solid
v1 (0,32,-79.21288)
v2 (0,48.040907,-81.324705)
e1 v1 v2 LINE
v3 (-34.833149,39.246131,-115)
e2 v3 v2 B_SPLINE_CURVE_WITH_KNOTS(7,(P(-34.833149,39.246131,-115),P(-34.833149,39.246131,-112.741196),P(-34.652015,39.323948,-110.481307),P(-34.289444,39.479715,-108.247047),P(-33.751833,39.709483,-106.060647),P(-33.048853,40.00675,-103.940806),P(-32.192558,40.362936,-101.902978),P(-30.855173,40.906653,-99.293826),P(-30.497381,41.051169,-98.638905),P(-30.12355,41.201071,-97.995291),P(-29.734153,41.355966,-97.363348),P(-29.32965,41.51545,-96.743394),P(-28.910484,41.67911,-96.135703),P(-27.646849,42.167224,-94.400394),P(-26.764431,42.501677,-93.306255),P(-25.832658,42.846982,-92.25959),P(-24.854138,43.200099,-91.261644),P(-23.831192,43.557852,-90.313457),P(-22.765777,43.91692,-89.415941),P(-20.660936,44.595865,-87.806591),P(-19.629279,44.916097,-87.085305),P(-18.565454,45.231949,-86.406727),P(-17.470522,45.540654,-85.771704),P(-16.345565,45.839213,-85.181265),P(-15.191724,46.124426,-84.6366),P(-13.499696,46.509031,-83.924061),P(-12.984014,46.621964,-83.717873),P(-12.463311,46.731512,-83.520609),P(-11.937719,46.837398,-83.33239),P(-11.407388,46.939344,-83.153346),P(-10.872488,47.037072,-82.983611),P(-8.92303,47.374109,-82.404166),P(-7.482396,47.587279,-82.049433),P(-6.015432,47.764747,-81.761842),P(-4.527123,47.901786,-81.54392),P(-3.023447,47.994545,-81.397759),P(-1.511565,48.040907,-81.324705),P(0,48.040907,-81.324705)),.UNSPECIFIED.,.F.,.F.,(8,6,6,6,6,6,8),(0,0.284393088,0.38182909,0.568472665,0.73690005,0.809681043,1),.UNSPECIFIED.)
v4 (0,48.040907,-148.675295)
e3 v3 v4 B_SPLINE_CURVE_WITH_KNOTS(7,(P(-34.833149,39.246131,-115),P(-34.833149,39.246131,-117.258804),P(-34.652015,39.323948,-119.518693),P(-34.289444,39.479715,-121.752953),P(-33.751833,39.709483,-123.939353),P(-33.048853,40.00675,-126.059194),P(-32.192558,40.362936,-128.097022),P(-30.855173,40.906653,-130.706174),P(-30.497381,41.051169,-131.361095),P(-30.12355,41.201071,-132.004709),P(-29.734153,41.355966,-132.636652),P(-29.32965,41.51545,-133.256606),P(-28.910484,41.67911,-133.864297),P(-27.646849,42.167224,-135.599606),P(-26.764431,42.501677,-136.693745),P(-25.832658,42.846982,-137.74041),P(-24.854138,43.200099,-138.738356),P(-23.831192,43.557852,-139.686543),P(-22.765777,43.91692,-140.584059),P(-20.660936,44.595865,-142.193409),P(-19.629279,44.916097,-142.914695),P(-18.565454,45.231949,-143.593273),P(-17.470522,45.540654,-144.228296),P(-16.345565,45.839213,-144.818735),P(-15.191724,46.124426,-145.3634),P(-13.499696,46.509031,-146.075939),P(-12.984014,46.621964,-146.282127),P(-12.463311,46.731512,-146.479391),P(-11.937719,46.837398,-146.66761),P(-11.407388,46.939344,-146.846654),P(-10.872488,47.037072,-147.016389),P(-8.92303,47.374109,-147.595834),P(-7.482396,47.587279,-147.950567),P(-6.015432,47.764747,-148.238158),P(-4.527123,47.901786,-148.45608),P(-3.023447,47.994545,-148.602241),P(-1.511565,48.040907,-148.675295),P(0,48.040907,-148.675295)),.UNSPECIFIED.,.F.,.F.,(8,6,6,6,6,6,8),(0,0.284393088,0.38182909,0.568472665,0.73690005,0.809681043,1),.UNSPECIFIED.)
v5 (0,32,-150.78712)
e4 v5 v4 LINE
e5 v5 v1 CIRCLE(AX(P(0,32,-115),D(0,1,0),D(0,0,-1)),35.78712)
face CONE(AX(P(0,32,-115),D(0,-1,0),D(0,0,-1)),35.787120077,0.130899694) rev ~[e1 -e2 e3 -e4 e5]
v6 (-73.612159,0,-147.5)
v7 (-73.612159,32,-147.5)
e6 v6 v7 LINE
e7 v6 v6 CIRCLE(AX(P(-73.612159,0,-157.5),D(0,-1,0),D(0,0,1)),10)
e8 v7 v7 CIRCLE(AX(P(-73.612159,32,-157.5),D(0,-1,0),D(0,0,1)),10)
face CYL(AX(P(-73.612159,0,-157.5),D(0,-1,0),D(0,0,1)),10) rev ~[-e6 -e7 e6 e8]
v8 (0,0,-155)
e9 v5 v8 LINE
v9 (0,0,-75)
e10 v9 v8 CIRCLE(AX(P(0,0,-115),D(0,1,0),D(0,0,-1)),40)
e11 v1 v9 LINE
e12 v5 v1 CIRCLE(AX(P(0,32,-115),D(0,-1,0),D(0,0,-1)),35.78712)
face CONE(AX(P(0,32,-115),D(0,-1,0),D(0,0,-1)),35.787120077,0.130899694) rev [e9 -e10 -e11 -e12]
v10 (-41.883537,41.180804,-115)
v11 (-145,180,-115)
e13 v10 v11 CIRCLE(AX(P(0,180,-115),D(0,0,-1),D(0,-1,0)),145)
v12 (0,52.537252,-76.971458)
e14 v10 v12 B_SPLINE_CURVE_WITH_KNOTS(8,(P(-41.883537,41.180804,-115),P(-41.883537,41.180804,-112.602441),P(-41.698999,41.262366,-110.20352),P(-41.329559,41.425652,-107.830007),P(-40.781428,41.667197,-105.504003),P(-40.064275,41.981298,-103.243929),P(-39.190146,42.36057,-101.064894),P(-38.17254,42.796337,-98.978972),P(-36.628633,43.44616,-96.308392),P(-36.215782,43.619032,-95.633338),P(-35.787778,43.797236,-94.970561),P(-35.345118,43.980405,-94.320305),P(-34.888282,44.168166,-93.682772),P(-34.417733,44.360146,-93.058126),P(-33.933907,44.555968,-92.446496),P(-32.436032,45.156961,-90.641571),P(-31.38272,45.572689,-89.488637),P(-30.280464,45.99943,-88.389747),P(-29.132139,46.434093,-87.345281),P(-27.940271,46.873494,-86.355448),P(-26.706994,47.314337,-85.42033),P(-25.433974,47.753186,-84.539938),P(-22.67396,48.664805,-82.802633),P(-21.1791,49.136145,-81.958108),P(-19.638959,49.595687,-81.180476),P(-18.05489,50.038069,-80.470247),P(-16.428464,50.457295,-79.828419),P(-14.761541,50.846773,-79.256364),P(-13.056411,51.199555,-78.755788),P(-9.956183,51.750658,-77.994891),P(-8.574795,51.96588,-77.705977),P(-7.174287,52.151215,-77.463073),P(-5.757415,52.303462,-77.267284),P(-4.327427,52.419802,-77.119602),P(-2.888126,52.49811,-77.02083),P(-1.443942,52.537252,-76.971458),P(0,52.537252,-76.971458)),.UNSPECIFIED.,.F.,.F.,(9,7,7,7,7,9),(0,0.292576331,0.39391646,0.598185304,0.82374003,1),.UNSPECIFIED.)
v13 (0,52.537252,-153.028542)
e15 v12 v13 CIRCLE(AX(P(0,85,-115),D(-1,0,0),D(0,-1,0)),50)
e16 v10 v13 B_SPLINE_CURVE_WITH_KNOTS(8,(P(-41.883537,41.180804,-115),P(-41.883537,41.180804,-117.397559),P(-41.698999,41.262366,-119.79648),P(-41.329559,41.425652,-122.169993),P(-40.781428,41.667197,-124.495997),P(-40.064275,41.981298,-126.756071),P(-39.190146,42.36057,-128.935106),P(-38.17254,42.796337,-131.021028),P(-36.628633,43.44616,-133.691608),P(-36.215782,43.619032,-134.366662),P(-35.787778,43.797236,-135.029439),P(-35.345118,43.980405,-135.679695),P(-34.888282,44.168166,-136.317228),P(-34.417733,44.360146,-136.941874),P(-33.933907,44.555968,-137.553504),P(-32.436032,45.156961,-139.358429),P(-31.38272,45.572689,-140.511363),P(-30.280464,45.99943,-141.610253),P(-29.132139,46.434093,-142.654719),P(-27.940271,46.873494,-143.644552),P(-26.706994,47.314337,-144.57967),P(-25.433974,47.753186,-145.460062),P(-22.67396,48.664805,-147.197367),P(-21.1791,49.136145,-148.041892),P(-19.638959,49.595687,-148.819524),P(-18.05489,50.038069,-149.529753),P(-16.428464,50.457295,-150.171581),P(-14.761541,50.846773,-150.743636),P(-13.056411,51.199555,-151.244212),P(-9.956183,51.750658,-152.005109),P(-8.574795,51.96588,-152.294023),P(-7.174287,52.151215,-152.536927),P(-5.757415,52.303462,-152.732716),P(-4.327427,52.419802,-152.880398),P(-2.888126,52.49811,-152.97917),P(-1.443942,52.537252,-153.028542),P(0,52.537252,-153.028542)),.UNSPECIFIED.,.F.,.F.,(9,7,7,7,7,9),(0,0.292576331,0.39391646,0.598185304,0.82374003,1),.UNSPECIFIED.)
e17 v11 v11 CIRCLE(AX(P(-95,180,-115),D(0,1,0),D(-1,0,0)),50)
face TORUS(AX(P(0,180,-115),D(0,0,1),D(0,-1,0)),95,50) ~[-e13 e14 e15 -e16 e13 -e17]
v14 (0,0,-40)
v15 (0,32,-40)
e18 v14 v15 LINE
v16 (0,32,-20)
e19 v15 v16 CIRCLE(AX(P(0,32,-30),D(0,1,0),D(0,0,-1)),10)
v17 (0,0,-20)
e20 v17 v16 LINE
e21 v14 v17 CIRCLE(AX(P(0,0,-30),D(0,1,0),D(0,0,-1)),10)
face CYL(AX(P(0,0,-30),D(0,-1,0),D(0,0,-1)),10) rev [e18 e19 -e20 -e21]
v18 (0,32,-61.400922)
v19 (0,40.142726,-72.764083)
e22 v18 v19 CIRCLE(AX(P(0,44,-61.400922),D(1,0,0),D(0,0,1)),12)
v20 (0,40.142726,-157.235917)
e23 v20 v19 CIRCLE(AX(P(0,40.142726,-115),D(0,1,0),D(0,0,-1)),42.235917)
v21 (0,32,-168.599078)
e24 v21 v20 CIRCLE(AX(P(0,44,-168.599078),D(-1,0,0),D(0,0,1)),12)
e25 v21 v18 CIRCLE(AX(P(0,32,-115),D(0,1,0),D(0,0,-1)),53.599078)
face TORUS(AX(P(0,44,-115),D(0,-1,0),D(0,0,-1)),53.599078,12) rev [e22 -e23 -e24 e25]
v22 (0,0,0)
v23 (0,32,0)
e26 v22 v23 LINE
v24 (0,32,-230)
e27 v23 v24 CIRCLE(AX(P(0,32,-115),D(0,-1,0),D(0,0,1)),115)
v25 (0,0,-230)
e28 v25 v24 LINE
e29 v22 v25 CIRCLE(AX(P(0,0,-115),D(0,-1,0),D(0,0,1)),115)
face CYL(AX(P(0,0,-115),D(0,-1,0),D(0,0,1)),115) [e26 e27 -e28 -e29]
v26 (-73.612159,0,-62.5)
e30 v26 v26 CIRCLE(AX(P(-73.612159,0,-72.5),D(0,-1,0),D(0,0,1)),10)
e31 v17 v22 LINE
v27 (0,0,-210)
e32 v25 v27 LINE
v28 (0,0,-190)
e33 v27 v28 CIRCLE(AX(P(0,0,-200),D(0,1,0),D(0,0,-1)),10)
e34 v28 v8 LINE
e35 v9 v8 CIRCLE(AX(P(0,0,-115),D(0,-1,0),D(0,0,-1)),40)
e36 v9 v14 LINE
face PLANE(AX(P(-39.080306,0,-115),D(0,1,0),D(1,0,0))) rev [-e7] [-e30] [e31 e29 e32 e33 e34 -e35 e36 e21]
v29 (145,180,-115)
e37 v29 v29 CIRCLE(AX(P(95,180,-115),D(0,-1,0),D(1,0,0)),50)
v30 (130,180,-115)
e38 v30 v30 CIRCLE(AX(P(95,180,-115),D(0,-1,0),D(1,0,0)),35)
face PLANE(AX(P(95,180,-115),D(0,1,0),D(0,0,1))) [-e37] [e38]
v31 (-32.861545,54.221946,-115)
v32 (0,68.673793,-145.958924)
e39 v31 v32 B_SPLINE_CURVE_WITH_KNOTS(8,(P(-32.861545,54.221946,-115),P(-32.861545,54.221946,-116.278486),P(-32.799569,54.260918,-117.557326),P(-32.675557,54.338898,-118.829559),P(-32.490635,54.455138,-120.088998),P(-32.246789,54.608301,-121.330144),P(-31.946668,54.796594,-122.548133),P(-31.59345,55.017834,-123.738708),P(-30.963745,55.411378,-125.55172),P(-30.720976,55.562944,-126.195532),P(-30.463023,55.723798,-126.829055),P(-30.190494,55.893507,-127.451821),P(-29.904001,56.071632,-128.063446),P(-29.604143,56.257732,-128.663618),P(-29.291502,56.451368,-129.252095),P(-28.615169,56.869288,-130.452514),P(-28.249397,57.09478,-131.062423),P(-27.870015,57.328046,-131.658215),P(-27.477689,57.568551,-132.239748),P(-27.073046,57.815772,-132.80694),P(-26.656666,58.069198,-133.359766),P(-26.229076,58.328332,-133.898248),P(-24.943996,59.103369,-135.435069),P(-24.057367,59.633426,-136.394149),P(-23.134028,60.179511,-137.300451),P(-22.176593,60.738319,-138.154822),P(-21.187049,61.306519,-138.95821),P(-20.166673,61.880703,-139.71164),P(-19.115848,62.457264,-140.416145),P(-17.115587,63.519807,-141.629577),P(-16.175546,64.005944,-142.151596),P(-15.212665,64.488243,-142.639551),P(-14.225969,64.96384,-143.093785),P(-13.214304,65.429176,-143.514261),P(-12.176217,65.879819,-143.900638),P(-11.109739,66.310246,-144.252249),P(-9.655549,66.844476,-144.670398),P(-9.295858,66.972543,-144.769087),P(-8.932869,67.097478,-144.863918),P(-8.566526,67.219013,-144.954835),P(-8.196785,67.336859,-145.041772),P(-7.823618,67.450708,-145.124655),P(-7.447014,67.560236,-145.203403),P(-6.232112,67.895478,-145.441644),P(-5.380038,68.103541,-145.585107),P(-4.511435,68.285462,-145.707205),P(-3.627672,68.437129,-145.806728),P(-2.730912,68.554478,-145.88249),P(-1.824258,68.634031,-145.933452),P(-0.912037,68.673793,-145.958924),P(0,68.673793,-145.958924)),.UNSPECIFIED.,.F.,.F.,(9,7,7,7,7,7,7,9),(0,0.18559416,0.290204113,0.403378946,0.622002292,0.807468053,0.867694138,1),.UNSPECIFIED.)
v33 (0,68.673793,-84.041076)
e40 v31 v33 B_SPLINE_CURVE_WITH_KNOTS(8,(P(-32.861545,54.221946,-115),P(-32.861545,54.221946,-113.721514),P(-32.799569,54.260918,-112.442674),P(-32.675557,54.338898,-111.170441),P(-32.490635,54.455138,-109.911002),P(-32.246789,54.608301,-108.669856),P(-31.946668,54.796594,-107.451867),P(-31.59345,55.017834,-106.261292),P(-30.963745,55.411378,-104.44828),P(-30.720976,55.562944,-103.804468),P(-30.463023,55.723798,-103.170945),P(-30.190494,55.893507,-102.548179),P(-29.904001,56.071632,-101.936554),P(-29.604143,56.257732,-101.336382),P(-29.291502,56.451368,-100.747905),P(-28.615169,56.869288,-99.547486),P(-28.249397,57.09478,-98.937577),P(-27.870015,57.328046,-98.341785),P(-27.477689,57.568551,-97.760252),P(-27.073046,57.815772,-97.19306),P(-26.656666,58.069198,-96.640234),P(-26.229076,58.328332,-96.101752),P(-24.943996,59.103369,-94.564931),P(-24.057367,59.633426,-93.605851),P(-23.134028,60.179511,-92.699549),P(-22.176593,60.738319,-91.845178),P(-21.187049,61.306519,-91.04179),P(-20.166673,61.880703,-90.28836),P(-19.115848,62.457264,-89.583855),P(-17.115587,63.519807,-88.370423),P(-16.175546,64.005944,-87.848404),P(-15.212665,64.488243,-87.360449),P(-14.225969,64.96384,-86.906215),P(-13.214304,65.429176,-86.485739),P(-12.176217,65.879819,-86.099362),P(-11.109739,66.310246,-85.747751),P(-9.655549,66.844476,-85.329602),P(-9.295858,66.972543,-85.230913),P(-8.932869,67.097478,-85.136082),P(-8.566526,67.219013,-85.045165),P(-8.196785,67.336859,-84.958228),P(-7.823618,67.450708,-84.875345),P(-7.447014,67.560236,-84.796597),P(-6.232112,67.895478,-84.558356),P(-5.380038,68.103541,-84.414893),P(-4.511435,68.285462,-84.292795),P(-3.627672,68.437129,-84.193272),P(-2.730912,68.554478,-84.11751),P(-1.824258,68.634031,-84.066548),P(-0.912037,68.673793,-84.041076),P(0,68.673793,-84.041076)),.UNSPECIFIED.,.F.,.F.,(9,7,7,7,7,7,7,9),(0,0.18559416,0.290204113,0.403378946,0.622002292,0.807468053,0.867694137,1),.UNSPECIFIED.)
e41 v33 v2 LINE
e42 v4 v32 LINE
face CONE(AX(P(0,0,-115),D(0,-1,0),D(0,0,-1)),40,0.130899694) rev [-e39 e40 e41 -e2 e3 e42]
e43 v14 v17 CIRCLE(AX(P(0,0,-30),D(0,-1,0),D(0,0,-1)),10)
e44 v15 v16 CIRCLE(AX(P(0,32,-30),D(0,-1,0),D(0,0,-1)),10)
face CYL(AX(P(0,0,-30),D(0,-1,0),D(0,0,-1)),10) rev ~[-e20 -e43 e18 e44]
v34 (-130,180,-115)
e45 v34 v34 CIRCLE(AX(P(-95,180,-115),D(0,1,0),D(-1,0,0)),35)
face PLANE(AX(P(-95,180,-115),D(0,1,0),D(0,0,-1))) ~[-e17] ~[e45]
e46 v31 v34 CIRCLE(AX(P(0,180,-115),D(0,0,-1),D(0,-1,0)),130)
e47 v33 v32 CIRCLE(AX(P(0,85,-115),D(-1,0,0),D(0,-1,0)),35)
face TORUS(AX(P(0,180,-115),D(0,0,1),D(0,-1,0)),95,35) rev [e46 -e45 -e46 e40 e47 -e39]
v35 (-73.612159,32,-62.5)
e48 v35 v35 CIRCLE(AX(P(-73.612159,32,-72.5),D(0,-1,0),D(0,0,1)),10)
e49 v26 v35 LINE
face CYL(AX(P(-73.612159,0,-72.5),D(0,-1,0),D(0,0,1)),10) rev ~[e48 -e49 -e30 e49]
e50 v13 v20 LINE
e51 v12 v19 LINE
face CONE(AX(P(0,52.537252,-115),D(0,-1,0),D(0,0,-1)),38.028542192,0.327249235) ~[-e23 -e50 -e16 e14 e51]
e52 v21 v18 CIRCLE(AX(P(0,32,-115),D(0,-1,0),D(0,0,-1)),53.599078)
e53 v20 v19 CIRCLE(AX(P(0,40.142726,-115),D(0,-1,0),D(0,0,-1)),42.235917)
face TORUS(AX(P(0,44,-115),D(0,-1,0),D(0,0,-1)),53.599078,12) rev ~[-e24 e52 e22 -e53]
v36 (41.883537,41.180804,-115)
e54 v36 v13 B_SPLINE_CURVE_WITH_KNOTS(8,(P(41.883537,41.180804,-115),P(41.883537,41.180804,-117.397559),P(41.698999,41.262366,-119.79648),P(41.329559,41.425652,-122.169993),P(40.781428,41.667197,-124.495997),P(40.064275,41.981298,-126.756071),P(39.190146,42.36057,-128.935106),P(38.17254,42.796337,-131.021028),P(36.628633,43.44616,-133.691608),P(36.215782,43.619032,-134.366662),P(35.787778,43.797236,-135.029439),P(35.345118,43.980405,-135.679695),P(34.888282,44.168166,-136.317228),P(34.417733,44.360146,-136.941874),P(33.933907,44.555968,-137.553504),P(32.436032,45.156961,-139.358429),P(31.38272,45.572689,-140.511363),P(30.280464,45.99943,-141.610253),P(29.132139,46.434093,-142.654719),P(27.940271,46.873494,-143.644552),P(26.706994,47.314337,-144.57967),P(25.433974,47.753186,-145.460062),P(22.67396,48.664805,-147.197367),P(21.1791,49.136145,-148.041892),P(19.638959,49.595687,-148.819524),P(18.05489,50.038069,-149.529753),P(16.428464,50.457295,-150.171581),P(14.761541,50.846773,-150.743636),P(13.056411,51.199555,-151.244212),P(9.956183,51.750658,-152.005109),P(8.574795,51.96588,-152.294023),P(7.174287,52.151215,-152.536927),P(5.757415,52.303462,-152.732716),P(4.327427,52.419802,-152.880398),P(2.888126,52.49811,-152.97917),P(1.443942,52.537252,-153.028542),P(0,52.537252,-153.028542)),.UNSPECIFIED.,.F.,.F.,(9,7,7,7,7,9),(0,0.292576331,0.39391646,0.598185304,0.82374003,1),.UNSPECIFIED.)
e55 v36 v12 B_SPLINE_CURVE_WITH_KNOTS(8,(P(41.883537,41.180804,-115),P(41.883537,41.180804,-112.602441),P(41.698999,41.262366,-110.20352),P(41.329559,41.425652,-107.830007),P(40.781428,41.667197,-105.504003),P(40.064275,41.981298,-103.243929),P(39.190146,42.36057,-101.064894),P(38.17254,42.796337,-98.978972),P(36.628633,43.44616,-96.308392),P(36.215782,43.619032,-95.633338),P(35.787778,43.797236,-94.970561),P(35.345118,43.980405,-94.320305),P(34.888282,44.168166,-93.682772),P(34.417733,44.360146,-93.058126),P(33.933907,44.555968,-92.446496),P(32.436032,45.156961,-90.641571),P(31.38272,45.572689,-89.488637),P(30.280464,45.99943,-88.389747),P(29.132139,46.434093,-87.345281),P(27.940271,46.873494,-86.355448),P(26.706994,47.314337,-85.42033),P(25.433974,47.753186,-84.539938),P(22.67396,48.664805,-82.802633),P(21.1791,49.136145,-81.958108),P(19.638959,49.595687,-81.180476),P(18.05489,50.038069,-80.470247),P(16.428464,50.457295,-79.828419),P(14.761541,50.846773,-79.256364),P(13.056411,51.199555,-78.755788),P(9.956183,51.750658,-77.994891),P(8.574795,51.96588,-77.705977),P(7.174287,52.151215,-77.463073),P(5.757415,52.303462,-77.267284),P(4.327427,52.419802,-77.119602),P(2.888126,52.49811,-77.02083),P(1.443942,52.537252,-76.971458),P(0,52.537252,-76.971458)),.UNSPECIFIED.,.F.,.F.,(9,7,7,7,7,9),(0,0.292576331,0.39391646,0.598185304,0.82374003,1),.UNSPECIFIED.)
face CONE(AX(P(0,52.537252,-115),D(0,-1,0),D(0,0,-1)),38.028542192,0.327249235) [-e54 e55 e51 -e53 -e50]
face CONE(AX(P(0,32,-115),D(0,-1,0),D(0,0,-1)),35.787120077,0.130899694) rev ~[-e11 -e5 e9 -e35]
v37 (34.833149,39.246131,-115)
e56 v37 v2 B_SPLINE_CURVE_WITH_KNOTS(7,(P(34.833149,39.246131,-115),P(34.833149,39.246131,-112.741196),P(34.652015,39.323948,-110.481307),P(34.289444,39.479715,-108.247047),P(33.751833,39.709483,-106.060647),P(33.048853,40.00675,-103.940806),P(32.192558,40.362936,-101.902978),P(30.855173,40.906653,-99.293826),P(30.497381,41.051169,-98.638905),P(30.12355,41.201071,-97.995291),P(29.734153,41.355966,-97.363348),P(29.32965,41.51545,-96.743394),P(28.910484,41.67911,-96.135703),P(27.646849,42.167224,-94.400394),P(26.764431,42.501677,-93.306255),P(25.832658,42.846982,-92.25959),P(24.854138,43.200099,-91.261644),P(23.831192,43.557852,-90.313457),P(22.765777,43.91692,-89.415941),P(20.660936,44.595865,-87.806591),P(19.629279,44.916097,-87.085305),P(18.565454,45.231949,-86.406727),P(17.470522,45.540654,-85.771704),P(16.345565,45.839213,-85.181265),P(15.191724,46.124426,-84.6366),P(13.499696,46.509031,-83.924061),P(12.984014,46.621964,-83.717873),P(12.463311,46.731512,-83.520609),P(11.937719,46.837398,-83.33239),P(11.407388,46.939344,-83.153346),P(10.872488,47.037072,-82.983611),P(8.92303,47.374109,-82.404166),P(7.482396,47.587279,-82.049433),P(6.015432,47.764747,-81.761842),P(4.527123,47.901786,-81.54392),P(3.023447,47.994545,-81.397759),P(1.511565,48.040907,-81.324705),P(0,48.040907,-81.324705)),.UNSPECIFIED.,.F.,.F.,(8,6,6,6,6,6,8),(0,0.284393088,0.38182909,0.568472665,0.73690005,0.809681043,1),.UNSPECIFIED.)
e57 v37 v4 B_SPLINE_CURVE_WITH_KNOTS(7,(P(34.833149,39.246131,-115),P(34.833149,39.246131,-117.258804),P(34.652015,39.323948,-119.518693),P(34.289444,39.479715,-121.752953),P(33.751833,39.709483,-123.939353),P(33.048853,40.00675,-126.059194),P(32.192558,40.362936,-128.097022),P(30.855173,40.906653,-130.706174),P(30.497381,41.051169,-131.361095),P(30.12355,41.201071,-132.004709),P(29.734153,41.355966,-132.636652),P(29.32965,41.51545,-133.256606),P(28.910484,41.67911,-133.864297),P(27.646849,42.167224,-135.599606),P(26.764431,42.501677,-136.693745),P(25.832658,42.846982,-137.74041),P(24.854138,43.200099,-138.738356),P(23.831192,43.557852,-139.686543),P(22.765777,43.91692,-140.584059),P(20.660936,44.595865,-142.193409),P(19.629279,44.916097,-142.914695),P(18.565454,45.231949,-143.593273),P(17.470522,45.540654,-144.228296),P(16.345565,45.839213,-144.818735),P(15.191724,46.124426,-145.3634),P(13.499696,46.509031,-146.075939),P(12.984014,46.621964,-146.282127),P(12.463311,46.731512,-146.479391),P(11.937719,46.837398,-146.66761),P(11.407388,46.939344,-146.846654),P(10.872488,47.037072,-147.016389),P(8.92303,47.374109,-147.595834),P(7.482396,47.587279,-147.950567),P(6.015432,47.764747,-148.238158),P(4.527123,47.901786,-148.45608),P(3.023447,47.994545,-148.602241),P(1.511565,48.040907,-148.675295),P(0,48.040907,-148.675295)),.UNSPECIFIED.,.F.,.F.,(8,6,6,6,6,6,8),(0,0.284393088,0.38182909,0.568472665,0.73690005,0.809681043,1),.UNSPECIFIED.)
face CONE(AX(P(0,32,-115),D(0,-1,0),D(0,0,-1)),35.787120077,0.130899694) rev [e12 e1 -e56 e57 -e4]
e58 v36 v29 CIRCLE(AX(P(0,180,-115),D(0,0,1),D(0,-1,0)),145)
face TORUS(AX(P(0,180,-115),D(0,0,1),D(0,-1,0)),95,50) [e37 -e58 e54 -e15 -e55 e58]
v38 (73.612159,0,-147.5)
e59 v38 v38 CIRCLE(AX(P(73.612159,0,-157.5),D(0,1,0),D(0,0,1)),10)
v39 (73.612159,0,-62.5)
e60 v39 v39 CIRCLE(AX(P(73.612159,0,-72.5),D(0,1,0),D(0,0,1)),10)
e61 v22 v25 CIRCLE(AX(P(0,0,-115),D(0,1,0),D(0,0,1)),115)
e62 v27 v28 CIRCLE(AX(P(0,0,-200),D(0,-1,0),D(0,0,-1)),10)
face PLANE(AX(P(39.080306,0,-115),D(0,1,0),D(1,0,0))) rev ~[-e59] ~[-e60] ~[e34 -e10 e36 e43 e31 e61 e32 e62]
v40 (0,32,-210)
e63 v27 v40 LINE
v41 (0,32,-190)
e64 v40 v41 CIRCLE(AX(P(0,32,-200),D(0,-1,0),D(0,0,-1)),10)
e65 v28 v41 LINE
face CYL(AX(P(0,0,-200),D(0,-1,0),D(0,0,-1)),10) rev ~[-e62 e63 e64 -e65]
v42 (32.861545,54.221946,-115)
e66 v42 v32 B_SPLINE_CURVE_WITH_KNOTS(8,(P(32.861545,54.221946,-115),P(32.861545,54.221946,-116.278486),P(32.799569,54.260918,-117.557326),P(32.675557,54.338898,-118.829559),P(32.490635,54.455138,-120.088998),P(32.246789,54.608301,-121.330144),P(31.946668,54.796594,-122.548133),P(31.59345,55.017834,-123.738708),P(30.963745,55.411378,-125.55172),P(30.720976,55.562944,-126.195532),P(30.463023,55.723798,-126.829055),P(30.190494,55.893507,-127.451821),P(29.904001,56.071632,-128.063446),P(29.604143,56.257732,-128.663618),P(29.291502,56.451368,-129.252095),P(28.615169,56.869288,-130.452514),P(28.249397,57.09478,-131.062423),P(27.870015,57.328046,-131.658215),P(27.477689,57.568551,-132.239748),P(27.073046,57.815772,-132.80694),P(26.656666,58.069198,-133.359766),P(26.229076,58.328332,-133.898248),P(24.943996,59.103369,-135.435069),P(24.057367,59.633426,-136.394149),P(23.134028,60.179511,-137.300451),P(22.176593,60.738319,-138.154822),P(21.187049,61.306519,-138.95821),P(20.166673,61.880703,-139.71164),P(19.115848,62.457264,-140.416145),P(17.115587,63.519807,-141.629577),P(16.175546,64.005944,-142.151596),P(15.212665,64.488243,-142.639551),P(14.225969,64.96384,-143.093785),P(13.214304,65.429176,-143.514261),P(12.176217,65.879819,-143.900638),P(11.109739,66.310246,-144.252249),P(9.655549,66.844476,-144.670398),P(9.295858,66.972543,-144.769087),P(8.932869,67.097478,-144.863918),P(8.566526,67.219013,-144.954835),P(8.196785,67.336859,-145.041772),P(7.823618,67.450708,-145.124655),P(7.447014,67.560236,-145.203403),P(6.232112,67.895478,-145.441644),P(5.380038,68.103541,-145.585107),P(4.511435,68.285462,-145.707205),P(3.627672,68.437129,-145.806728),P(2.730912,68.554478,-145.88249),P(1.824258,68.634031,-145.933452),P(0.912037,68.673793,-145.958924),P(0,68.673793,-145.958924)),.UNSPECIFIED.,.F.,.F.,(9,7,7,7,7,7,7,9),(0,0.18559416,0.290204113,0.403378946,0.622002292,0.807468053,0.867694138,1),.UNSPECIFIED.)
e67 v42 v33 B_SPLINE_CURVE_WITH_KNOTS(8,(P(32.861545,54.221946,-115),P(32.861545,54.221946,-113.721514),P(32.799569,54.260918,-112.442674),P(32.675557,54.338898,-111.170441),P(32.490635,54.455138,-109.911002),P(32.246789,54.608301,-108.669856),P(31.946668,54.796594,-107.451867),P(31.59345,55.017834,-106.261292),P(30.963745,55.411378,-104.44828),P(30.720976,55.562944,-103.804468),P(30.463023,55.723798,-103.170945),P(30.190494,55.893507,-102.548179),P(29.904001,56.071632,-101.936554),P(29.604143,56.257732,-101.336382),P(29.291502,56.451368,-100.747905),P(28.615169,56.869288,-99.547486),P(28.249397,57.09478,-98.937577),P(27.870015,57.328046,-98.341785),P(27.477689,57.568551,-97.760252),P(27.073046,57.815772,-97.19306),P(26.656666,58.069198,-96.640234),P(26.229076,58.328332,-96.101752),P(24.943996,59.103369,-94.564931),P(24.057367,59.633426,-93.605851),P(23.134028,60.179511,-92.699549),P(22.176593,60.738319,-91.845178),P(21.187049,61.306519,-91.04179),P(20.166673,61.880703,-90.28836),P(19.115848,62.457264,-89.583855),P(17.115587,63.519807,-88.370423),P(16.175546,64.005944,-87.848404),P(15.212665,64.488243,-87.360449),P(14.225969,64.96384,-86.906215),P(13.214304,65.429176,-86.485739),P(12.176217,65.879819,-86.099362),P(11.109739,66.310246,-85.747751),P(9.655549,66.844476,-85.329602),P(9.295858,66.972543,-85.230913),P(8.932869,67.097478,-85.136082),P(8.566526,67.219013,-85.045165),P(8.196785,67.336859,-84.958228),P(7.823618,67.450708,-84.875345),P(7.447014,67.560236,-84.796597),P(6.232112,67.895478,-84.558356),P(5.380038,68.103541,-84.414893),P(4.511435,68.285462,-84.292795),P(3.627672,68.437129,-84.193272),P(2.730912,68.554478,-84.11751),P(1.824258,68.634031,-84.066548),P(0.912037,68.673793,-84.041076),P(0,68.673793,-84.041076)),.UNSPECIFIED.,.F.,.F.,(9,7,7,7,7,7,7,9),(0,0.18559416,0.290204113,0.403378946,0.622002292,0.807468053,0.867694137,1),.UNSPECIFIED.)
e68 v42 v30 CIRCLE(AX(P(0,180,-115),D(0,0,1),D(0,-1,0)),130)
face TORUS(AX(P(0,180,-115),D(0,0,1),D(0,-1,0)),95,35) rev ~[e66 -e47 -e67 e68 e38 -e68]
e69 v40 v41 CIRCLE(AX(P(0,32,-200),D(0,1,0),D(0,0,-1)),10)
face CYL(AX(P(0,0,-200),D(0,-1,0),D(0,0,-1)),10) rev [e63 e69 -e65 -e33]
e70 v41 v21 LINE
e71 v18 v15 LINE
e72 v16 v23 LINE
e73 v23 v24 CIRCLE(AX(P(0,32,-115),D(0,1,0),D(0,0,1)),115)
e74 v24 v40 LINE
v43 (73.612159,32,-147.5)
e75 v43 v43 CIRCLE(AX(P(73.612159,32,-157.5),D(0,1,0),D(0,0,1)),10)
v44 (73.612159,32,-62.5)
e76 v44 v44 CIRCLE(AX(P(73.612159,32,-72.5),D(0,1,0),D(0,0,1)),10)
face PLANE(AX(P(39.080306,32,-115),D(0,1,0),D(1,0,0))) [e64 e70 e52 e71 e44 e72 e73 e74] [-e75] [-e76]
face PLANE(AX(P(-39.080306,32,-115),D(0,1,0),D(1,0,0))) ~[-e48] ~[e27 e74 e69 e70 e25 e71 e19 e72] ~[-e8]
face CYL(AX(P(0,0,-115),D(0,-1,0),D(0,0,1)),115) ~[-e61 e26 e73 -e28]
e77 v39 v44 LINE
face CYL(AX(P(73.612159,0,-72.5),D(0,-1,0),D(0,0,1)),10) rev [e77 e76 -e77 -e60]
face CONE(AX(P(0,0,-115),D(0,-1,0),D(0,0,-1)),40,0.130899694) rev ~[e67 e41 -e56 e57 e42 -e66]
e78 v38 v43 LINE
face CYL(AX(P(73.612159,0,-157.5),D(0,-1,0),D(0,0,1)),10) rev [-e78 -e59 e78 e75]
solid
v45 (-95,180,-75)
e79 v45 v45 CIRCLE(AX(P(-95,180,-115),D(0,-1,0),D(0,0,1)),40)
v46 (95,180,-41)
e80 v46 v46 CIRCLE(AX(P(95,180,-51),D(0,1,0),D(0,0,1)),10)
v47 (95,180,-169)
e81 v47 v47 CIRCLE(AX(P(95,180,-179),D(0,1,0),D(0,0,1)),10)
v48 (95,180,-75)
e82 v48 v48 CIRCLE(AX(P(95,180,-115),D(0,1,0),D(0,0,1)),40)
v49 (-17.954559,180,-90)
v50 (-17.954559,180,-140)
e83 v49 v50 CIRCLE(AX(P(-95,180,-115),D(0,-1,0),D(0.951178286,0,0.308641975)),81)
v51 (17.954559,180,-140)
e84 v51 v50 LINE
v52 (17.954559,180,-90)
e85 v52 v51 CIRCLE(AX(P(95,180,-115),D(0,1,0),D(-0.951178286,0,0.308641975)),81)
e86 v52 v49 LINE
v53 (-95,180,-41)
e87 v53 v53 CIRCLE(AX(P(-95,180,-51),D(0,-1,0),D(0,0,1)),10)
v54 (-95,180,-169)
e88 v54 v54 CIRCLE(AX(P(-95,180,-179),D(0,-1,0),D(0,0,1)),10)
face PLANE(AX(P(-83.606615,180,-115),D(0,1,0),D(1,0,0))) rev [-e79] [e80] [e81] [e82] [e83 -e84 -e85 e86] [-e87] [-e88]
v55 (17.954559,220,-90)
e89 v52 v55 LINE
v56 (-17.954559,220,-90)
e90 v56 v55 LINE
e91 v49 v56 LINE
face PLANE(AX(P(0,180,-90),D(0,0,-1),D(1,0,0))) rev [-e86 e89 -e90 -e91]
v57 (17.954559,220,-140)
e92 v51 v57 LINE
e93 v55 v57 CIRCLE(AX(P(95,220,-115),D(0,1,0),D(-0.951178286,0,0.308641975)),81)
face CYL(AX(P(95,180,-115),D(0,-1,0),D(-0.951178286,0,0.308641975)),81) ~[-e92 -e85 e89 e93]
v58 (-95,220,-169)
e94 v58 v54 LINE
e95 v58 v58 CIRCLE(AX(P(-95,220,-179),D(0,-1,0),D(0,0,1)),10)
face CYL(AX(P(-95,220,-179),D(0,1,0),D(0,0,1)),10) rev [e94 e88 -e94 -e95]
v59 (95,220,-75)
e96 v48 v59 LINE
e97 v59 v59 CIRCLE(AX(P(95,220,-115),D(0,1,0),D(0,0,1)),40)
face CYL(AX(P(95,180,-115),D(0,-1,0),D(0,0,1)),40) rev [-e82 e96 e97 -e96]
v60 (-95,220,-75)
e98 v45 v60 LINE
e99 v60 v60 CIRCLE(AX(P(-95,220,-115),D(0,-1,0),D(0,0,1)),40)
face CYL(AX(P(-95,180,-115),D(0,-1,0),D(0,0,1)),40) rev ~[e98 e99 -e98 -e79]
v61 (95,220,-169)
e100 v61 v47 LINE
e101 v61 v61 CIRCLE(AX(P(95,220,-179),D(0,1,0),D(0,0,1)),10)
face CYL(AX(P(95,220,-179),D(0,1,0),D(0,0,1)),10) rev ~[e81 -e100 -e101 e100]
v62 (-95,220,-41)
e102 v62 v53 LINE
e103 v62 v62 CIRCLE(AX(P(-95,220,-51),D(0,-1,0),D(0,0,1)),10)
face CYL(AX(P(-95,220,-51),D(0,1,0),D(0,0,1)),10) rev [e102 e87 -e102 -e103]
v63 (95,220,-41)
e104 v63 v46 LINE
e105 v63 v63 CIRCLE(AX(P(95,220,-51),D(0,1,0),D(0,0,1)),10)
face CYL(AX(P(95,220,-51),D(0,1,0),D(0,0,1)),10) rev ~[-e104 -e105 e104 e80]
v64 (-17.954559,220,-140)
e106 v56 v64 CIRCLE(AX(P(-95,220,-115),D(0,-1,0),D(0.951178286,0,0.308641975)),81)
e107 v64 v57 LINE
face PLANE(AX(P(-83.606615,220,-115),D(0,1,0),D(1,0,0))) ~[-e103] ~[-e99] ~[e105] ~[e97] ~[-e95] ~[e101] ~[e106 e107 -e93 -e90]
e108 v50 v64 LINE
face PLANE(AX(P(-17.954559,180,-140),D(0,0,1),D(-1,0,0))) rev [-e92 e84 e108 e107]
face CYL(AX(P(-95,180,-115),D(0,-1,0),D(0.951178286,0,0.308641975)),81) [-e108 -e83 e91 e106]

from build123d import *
from build123d.topology import SkipClean

# Parameters (mm, degrees)
SKETCH1_R           = 9.999999999999991
SKETCH1_R_2         = 10.000000000000009
BOSS_EXTRUDE1_DEPTH = 32
REVOLVE1_ANGLE      = 180.0000000000004
FILLET1_R           = 12
SKETCH4_R           = 50.000000000000014
SKETCH4_R_2         = 35.00000000000001
SKETCH7_R           = 40.00000000000001
BOSS_EXTRUDE2_DEPTH = 40
SKETCH9_R           = 9.999999999999996
SKETCH9_R_2         = 9.999999999999995
CUT_EXTRUDE1_DEPTH  = 40


with BuildPart() as part:
    # Sketch1 → Boss-Extrude1 (new body)
    with BuildSketch(Plane(origin=(0, 0, 0), x_dir=(1, 0, 0), z_dir=(0, 1, 0))):
        with BuildLine():
            Line((0, 20), (0, 0))
            ThreePointArc((4.961e-14, -1.421e-14), (115.00000000000001, 115.00000000000001), (0, 230))
            Line((0, 229.99999999999997), (0, 209.99999999999997))
            ThreePointArc((3.4e-16, 209.99999999999997), (10.000000000000608, 199.99999999999994), (0, 189.99999999999991))
            Line((0, 189.99999999999991), (0, 40))
            ThreePointArc((3.4e-16, 40), (10.000000000000004, 30), (0, 20))
        make_face()
        with Locations(Location((73.61215932167678, 72.49999999999912, 0), (0, 0, 270))):
            Circle(SKETCH1_R, mode=Mode.SUBTRACT)
        with Locations(Location((73.61215932167762, 157.49999999999926, 0), (0, 0, 270))):
            Circle(SKETCH1_R_2, mode=Mode.SUBTRACT)
    extrude(amount=BOSS_EXTRUDE1_DEPTH)

    # Sketch2 → Revolve1 (revolve)
    with BuildSketch(Plane.ZY):
        with BuildLine():
            Line((-159.99999999999997, 32), (-150.7871200772035, 32))
            Line((-150.78712007720353, 32), (-148.67529457169178, 48.040907268849466))
            ThreePointArc((-148.67529457169178, 48.040907268849466), (-150.92233750248081, 50.22090184668588), (-153.02854219188197, 52.53725244591505))
            Line((-153.028542191882, 52.537252445915016), (-159.99999999999997, 32))
        make_face()
    revolve(axis=Axis((0, 0, -114.99999999999996), (0, -1, 0)), revolution_arc=REVOLVE1_ANGLE)

    # Fillet1
    fillet1_edges = [part.edges().sort_by_distance(p)[0] for p in [
        (45.000000000000014, 32, -114.9999999999998),
    ]]
    fillet(fillet1_edges, radius=FILLET1_R)

    # Sketch2<6> → Cut-Revolve1 (revolve, cut)
    with BuildSketch(Plane.ZY):
        Polygon((-114.99999999999996, 0), (-114.99999999999996, 32), (-150.7871200772035, 32), (-154.99999999999997, 0), align=None)
    revolve(axis=Axis((0, 0, -114.99999999999996), (0, 1, 0)), mode=Mode.SUBTRACT)

    # Sweep1: sweep along a path in Sketch3
    with BuildLine(Plane.XY.offset(-114.99999999999996)) as sweep1_path:
        ThreePointArc((0, 84.99999999999999), (67.17514421272203, 112.82485578727798), (95, 180))
    # Sketch4 → Sweep1 (sweep)
    with BuildSketch(Plane(origin=(0, 180, 0), x_dir=(1, 0, 0), z_dir=(0, 1, 0))):
        with Locations((95, 114.99999999999996)):
            Circle(SKETCH4_R)
        with Locations((95, 114.99999999999996)):
            Circle(SKETCH4_R_2, mode=Mode.SUBTRACT)
    sweep(path=sweep1_path.line)

    # Sketch6 → Cut-Revolve2 (revolve, cut)
    with BuildSketch(Plane(origin=(0, 0, 0), x_dir=(0, 0, -1), z_dir=(1, 0, 0))):
        with BuildLine():
            Line((114.99999999999996, 0), (154.99999999999997, 0))
            Line((154.99999999999997, 0), (145.9589236730641, 68.67379269378867))
            ThreePointArc((145.9589236730641, 68.67379269378867), (133.07737182616157, 55.02987107370576), (114.99999999999996, 50))
            Line((114.99999999999996, 50), (114.99999999999996, 0))
        make_face()
    revolve(axis=Axis((0, 0, -114.99999999999996), (0, 1, 0)), mode=Mode.SUBTRACT)

    # Mirror1 2: part across plane


with BuildPart() as body_2:
    # Sketch7 → Boss-Extrude2 (new body)
    with BuildSketch(Plane(origin=(0, 180, 0), x_dir=(1, 0, 0), z_dir=(0, 1, 0))):
        with BuildLine():
            Line((17.954558862967108, 139.99999999999997), (8.2e-16, 139.99999999999997))
            Line((8.2e-16, 139.99999999999997), (6.94e-15, 89.99999999999996))
            Line((6.94e-15, 89.99999999999996), (17.954558862967115, 89.99999999999994))
            ThreePointArc((17.954558862967115, 89.99999999999994), (176, 114.99999999999996), (17.954558862967108, 139.99999999999997))
        make_face()
        with Locations(Location((95, 114.99999999999996, 0), (0, 0, 270))):
            Circle(SKETCH7_R, mode=Mode.SUBTRACT)
    extrude(amount=BOSS_EXTRUDE2_DEPTH)

    # Sketch9 → Cut-Extrude1 (cut)
    with BuildSketch(Plane(origin=(0, 220, 0), x_dir=(1, 0, 0), z_dir=(0, 1, 0))):
        with Locations(Location((94.99999999999999, 178.99999999999997, 0), (0, 0, 270))):
            Circle(SKETCH9_R)
        with Locations(Location((94.99999999999999, 50.999999999999964, 0), (0, 0, 270))):
            Circle(SKETCH9_R_2)
    extrude(amount=-CUT_EXTRUDE1_DEPTH, mode=Mode.SUBTRACT)

    # Mirror1: body 2 across plane


with BuildPart() as body_2_1:
    add(body_2.part)
    add(body_2.part.mirror(Plane(origin=(0, 32, 0), x_dir=(0, 0, 1), z_dir=(-1, 0, 0))))


with BuildPart() as part_1:
    with SkipClean():  # the faces are left unmerged after this step: merging them gives an invalid solid
        add(part.part)
        add(part.part.mirror(Plane(origin=(0, 32, 0), x_dir=(0, 0, 1), z_dir=(-1, 0, 0))))


solid = Compound([body_2_1.part, part_1.part])
